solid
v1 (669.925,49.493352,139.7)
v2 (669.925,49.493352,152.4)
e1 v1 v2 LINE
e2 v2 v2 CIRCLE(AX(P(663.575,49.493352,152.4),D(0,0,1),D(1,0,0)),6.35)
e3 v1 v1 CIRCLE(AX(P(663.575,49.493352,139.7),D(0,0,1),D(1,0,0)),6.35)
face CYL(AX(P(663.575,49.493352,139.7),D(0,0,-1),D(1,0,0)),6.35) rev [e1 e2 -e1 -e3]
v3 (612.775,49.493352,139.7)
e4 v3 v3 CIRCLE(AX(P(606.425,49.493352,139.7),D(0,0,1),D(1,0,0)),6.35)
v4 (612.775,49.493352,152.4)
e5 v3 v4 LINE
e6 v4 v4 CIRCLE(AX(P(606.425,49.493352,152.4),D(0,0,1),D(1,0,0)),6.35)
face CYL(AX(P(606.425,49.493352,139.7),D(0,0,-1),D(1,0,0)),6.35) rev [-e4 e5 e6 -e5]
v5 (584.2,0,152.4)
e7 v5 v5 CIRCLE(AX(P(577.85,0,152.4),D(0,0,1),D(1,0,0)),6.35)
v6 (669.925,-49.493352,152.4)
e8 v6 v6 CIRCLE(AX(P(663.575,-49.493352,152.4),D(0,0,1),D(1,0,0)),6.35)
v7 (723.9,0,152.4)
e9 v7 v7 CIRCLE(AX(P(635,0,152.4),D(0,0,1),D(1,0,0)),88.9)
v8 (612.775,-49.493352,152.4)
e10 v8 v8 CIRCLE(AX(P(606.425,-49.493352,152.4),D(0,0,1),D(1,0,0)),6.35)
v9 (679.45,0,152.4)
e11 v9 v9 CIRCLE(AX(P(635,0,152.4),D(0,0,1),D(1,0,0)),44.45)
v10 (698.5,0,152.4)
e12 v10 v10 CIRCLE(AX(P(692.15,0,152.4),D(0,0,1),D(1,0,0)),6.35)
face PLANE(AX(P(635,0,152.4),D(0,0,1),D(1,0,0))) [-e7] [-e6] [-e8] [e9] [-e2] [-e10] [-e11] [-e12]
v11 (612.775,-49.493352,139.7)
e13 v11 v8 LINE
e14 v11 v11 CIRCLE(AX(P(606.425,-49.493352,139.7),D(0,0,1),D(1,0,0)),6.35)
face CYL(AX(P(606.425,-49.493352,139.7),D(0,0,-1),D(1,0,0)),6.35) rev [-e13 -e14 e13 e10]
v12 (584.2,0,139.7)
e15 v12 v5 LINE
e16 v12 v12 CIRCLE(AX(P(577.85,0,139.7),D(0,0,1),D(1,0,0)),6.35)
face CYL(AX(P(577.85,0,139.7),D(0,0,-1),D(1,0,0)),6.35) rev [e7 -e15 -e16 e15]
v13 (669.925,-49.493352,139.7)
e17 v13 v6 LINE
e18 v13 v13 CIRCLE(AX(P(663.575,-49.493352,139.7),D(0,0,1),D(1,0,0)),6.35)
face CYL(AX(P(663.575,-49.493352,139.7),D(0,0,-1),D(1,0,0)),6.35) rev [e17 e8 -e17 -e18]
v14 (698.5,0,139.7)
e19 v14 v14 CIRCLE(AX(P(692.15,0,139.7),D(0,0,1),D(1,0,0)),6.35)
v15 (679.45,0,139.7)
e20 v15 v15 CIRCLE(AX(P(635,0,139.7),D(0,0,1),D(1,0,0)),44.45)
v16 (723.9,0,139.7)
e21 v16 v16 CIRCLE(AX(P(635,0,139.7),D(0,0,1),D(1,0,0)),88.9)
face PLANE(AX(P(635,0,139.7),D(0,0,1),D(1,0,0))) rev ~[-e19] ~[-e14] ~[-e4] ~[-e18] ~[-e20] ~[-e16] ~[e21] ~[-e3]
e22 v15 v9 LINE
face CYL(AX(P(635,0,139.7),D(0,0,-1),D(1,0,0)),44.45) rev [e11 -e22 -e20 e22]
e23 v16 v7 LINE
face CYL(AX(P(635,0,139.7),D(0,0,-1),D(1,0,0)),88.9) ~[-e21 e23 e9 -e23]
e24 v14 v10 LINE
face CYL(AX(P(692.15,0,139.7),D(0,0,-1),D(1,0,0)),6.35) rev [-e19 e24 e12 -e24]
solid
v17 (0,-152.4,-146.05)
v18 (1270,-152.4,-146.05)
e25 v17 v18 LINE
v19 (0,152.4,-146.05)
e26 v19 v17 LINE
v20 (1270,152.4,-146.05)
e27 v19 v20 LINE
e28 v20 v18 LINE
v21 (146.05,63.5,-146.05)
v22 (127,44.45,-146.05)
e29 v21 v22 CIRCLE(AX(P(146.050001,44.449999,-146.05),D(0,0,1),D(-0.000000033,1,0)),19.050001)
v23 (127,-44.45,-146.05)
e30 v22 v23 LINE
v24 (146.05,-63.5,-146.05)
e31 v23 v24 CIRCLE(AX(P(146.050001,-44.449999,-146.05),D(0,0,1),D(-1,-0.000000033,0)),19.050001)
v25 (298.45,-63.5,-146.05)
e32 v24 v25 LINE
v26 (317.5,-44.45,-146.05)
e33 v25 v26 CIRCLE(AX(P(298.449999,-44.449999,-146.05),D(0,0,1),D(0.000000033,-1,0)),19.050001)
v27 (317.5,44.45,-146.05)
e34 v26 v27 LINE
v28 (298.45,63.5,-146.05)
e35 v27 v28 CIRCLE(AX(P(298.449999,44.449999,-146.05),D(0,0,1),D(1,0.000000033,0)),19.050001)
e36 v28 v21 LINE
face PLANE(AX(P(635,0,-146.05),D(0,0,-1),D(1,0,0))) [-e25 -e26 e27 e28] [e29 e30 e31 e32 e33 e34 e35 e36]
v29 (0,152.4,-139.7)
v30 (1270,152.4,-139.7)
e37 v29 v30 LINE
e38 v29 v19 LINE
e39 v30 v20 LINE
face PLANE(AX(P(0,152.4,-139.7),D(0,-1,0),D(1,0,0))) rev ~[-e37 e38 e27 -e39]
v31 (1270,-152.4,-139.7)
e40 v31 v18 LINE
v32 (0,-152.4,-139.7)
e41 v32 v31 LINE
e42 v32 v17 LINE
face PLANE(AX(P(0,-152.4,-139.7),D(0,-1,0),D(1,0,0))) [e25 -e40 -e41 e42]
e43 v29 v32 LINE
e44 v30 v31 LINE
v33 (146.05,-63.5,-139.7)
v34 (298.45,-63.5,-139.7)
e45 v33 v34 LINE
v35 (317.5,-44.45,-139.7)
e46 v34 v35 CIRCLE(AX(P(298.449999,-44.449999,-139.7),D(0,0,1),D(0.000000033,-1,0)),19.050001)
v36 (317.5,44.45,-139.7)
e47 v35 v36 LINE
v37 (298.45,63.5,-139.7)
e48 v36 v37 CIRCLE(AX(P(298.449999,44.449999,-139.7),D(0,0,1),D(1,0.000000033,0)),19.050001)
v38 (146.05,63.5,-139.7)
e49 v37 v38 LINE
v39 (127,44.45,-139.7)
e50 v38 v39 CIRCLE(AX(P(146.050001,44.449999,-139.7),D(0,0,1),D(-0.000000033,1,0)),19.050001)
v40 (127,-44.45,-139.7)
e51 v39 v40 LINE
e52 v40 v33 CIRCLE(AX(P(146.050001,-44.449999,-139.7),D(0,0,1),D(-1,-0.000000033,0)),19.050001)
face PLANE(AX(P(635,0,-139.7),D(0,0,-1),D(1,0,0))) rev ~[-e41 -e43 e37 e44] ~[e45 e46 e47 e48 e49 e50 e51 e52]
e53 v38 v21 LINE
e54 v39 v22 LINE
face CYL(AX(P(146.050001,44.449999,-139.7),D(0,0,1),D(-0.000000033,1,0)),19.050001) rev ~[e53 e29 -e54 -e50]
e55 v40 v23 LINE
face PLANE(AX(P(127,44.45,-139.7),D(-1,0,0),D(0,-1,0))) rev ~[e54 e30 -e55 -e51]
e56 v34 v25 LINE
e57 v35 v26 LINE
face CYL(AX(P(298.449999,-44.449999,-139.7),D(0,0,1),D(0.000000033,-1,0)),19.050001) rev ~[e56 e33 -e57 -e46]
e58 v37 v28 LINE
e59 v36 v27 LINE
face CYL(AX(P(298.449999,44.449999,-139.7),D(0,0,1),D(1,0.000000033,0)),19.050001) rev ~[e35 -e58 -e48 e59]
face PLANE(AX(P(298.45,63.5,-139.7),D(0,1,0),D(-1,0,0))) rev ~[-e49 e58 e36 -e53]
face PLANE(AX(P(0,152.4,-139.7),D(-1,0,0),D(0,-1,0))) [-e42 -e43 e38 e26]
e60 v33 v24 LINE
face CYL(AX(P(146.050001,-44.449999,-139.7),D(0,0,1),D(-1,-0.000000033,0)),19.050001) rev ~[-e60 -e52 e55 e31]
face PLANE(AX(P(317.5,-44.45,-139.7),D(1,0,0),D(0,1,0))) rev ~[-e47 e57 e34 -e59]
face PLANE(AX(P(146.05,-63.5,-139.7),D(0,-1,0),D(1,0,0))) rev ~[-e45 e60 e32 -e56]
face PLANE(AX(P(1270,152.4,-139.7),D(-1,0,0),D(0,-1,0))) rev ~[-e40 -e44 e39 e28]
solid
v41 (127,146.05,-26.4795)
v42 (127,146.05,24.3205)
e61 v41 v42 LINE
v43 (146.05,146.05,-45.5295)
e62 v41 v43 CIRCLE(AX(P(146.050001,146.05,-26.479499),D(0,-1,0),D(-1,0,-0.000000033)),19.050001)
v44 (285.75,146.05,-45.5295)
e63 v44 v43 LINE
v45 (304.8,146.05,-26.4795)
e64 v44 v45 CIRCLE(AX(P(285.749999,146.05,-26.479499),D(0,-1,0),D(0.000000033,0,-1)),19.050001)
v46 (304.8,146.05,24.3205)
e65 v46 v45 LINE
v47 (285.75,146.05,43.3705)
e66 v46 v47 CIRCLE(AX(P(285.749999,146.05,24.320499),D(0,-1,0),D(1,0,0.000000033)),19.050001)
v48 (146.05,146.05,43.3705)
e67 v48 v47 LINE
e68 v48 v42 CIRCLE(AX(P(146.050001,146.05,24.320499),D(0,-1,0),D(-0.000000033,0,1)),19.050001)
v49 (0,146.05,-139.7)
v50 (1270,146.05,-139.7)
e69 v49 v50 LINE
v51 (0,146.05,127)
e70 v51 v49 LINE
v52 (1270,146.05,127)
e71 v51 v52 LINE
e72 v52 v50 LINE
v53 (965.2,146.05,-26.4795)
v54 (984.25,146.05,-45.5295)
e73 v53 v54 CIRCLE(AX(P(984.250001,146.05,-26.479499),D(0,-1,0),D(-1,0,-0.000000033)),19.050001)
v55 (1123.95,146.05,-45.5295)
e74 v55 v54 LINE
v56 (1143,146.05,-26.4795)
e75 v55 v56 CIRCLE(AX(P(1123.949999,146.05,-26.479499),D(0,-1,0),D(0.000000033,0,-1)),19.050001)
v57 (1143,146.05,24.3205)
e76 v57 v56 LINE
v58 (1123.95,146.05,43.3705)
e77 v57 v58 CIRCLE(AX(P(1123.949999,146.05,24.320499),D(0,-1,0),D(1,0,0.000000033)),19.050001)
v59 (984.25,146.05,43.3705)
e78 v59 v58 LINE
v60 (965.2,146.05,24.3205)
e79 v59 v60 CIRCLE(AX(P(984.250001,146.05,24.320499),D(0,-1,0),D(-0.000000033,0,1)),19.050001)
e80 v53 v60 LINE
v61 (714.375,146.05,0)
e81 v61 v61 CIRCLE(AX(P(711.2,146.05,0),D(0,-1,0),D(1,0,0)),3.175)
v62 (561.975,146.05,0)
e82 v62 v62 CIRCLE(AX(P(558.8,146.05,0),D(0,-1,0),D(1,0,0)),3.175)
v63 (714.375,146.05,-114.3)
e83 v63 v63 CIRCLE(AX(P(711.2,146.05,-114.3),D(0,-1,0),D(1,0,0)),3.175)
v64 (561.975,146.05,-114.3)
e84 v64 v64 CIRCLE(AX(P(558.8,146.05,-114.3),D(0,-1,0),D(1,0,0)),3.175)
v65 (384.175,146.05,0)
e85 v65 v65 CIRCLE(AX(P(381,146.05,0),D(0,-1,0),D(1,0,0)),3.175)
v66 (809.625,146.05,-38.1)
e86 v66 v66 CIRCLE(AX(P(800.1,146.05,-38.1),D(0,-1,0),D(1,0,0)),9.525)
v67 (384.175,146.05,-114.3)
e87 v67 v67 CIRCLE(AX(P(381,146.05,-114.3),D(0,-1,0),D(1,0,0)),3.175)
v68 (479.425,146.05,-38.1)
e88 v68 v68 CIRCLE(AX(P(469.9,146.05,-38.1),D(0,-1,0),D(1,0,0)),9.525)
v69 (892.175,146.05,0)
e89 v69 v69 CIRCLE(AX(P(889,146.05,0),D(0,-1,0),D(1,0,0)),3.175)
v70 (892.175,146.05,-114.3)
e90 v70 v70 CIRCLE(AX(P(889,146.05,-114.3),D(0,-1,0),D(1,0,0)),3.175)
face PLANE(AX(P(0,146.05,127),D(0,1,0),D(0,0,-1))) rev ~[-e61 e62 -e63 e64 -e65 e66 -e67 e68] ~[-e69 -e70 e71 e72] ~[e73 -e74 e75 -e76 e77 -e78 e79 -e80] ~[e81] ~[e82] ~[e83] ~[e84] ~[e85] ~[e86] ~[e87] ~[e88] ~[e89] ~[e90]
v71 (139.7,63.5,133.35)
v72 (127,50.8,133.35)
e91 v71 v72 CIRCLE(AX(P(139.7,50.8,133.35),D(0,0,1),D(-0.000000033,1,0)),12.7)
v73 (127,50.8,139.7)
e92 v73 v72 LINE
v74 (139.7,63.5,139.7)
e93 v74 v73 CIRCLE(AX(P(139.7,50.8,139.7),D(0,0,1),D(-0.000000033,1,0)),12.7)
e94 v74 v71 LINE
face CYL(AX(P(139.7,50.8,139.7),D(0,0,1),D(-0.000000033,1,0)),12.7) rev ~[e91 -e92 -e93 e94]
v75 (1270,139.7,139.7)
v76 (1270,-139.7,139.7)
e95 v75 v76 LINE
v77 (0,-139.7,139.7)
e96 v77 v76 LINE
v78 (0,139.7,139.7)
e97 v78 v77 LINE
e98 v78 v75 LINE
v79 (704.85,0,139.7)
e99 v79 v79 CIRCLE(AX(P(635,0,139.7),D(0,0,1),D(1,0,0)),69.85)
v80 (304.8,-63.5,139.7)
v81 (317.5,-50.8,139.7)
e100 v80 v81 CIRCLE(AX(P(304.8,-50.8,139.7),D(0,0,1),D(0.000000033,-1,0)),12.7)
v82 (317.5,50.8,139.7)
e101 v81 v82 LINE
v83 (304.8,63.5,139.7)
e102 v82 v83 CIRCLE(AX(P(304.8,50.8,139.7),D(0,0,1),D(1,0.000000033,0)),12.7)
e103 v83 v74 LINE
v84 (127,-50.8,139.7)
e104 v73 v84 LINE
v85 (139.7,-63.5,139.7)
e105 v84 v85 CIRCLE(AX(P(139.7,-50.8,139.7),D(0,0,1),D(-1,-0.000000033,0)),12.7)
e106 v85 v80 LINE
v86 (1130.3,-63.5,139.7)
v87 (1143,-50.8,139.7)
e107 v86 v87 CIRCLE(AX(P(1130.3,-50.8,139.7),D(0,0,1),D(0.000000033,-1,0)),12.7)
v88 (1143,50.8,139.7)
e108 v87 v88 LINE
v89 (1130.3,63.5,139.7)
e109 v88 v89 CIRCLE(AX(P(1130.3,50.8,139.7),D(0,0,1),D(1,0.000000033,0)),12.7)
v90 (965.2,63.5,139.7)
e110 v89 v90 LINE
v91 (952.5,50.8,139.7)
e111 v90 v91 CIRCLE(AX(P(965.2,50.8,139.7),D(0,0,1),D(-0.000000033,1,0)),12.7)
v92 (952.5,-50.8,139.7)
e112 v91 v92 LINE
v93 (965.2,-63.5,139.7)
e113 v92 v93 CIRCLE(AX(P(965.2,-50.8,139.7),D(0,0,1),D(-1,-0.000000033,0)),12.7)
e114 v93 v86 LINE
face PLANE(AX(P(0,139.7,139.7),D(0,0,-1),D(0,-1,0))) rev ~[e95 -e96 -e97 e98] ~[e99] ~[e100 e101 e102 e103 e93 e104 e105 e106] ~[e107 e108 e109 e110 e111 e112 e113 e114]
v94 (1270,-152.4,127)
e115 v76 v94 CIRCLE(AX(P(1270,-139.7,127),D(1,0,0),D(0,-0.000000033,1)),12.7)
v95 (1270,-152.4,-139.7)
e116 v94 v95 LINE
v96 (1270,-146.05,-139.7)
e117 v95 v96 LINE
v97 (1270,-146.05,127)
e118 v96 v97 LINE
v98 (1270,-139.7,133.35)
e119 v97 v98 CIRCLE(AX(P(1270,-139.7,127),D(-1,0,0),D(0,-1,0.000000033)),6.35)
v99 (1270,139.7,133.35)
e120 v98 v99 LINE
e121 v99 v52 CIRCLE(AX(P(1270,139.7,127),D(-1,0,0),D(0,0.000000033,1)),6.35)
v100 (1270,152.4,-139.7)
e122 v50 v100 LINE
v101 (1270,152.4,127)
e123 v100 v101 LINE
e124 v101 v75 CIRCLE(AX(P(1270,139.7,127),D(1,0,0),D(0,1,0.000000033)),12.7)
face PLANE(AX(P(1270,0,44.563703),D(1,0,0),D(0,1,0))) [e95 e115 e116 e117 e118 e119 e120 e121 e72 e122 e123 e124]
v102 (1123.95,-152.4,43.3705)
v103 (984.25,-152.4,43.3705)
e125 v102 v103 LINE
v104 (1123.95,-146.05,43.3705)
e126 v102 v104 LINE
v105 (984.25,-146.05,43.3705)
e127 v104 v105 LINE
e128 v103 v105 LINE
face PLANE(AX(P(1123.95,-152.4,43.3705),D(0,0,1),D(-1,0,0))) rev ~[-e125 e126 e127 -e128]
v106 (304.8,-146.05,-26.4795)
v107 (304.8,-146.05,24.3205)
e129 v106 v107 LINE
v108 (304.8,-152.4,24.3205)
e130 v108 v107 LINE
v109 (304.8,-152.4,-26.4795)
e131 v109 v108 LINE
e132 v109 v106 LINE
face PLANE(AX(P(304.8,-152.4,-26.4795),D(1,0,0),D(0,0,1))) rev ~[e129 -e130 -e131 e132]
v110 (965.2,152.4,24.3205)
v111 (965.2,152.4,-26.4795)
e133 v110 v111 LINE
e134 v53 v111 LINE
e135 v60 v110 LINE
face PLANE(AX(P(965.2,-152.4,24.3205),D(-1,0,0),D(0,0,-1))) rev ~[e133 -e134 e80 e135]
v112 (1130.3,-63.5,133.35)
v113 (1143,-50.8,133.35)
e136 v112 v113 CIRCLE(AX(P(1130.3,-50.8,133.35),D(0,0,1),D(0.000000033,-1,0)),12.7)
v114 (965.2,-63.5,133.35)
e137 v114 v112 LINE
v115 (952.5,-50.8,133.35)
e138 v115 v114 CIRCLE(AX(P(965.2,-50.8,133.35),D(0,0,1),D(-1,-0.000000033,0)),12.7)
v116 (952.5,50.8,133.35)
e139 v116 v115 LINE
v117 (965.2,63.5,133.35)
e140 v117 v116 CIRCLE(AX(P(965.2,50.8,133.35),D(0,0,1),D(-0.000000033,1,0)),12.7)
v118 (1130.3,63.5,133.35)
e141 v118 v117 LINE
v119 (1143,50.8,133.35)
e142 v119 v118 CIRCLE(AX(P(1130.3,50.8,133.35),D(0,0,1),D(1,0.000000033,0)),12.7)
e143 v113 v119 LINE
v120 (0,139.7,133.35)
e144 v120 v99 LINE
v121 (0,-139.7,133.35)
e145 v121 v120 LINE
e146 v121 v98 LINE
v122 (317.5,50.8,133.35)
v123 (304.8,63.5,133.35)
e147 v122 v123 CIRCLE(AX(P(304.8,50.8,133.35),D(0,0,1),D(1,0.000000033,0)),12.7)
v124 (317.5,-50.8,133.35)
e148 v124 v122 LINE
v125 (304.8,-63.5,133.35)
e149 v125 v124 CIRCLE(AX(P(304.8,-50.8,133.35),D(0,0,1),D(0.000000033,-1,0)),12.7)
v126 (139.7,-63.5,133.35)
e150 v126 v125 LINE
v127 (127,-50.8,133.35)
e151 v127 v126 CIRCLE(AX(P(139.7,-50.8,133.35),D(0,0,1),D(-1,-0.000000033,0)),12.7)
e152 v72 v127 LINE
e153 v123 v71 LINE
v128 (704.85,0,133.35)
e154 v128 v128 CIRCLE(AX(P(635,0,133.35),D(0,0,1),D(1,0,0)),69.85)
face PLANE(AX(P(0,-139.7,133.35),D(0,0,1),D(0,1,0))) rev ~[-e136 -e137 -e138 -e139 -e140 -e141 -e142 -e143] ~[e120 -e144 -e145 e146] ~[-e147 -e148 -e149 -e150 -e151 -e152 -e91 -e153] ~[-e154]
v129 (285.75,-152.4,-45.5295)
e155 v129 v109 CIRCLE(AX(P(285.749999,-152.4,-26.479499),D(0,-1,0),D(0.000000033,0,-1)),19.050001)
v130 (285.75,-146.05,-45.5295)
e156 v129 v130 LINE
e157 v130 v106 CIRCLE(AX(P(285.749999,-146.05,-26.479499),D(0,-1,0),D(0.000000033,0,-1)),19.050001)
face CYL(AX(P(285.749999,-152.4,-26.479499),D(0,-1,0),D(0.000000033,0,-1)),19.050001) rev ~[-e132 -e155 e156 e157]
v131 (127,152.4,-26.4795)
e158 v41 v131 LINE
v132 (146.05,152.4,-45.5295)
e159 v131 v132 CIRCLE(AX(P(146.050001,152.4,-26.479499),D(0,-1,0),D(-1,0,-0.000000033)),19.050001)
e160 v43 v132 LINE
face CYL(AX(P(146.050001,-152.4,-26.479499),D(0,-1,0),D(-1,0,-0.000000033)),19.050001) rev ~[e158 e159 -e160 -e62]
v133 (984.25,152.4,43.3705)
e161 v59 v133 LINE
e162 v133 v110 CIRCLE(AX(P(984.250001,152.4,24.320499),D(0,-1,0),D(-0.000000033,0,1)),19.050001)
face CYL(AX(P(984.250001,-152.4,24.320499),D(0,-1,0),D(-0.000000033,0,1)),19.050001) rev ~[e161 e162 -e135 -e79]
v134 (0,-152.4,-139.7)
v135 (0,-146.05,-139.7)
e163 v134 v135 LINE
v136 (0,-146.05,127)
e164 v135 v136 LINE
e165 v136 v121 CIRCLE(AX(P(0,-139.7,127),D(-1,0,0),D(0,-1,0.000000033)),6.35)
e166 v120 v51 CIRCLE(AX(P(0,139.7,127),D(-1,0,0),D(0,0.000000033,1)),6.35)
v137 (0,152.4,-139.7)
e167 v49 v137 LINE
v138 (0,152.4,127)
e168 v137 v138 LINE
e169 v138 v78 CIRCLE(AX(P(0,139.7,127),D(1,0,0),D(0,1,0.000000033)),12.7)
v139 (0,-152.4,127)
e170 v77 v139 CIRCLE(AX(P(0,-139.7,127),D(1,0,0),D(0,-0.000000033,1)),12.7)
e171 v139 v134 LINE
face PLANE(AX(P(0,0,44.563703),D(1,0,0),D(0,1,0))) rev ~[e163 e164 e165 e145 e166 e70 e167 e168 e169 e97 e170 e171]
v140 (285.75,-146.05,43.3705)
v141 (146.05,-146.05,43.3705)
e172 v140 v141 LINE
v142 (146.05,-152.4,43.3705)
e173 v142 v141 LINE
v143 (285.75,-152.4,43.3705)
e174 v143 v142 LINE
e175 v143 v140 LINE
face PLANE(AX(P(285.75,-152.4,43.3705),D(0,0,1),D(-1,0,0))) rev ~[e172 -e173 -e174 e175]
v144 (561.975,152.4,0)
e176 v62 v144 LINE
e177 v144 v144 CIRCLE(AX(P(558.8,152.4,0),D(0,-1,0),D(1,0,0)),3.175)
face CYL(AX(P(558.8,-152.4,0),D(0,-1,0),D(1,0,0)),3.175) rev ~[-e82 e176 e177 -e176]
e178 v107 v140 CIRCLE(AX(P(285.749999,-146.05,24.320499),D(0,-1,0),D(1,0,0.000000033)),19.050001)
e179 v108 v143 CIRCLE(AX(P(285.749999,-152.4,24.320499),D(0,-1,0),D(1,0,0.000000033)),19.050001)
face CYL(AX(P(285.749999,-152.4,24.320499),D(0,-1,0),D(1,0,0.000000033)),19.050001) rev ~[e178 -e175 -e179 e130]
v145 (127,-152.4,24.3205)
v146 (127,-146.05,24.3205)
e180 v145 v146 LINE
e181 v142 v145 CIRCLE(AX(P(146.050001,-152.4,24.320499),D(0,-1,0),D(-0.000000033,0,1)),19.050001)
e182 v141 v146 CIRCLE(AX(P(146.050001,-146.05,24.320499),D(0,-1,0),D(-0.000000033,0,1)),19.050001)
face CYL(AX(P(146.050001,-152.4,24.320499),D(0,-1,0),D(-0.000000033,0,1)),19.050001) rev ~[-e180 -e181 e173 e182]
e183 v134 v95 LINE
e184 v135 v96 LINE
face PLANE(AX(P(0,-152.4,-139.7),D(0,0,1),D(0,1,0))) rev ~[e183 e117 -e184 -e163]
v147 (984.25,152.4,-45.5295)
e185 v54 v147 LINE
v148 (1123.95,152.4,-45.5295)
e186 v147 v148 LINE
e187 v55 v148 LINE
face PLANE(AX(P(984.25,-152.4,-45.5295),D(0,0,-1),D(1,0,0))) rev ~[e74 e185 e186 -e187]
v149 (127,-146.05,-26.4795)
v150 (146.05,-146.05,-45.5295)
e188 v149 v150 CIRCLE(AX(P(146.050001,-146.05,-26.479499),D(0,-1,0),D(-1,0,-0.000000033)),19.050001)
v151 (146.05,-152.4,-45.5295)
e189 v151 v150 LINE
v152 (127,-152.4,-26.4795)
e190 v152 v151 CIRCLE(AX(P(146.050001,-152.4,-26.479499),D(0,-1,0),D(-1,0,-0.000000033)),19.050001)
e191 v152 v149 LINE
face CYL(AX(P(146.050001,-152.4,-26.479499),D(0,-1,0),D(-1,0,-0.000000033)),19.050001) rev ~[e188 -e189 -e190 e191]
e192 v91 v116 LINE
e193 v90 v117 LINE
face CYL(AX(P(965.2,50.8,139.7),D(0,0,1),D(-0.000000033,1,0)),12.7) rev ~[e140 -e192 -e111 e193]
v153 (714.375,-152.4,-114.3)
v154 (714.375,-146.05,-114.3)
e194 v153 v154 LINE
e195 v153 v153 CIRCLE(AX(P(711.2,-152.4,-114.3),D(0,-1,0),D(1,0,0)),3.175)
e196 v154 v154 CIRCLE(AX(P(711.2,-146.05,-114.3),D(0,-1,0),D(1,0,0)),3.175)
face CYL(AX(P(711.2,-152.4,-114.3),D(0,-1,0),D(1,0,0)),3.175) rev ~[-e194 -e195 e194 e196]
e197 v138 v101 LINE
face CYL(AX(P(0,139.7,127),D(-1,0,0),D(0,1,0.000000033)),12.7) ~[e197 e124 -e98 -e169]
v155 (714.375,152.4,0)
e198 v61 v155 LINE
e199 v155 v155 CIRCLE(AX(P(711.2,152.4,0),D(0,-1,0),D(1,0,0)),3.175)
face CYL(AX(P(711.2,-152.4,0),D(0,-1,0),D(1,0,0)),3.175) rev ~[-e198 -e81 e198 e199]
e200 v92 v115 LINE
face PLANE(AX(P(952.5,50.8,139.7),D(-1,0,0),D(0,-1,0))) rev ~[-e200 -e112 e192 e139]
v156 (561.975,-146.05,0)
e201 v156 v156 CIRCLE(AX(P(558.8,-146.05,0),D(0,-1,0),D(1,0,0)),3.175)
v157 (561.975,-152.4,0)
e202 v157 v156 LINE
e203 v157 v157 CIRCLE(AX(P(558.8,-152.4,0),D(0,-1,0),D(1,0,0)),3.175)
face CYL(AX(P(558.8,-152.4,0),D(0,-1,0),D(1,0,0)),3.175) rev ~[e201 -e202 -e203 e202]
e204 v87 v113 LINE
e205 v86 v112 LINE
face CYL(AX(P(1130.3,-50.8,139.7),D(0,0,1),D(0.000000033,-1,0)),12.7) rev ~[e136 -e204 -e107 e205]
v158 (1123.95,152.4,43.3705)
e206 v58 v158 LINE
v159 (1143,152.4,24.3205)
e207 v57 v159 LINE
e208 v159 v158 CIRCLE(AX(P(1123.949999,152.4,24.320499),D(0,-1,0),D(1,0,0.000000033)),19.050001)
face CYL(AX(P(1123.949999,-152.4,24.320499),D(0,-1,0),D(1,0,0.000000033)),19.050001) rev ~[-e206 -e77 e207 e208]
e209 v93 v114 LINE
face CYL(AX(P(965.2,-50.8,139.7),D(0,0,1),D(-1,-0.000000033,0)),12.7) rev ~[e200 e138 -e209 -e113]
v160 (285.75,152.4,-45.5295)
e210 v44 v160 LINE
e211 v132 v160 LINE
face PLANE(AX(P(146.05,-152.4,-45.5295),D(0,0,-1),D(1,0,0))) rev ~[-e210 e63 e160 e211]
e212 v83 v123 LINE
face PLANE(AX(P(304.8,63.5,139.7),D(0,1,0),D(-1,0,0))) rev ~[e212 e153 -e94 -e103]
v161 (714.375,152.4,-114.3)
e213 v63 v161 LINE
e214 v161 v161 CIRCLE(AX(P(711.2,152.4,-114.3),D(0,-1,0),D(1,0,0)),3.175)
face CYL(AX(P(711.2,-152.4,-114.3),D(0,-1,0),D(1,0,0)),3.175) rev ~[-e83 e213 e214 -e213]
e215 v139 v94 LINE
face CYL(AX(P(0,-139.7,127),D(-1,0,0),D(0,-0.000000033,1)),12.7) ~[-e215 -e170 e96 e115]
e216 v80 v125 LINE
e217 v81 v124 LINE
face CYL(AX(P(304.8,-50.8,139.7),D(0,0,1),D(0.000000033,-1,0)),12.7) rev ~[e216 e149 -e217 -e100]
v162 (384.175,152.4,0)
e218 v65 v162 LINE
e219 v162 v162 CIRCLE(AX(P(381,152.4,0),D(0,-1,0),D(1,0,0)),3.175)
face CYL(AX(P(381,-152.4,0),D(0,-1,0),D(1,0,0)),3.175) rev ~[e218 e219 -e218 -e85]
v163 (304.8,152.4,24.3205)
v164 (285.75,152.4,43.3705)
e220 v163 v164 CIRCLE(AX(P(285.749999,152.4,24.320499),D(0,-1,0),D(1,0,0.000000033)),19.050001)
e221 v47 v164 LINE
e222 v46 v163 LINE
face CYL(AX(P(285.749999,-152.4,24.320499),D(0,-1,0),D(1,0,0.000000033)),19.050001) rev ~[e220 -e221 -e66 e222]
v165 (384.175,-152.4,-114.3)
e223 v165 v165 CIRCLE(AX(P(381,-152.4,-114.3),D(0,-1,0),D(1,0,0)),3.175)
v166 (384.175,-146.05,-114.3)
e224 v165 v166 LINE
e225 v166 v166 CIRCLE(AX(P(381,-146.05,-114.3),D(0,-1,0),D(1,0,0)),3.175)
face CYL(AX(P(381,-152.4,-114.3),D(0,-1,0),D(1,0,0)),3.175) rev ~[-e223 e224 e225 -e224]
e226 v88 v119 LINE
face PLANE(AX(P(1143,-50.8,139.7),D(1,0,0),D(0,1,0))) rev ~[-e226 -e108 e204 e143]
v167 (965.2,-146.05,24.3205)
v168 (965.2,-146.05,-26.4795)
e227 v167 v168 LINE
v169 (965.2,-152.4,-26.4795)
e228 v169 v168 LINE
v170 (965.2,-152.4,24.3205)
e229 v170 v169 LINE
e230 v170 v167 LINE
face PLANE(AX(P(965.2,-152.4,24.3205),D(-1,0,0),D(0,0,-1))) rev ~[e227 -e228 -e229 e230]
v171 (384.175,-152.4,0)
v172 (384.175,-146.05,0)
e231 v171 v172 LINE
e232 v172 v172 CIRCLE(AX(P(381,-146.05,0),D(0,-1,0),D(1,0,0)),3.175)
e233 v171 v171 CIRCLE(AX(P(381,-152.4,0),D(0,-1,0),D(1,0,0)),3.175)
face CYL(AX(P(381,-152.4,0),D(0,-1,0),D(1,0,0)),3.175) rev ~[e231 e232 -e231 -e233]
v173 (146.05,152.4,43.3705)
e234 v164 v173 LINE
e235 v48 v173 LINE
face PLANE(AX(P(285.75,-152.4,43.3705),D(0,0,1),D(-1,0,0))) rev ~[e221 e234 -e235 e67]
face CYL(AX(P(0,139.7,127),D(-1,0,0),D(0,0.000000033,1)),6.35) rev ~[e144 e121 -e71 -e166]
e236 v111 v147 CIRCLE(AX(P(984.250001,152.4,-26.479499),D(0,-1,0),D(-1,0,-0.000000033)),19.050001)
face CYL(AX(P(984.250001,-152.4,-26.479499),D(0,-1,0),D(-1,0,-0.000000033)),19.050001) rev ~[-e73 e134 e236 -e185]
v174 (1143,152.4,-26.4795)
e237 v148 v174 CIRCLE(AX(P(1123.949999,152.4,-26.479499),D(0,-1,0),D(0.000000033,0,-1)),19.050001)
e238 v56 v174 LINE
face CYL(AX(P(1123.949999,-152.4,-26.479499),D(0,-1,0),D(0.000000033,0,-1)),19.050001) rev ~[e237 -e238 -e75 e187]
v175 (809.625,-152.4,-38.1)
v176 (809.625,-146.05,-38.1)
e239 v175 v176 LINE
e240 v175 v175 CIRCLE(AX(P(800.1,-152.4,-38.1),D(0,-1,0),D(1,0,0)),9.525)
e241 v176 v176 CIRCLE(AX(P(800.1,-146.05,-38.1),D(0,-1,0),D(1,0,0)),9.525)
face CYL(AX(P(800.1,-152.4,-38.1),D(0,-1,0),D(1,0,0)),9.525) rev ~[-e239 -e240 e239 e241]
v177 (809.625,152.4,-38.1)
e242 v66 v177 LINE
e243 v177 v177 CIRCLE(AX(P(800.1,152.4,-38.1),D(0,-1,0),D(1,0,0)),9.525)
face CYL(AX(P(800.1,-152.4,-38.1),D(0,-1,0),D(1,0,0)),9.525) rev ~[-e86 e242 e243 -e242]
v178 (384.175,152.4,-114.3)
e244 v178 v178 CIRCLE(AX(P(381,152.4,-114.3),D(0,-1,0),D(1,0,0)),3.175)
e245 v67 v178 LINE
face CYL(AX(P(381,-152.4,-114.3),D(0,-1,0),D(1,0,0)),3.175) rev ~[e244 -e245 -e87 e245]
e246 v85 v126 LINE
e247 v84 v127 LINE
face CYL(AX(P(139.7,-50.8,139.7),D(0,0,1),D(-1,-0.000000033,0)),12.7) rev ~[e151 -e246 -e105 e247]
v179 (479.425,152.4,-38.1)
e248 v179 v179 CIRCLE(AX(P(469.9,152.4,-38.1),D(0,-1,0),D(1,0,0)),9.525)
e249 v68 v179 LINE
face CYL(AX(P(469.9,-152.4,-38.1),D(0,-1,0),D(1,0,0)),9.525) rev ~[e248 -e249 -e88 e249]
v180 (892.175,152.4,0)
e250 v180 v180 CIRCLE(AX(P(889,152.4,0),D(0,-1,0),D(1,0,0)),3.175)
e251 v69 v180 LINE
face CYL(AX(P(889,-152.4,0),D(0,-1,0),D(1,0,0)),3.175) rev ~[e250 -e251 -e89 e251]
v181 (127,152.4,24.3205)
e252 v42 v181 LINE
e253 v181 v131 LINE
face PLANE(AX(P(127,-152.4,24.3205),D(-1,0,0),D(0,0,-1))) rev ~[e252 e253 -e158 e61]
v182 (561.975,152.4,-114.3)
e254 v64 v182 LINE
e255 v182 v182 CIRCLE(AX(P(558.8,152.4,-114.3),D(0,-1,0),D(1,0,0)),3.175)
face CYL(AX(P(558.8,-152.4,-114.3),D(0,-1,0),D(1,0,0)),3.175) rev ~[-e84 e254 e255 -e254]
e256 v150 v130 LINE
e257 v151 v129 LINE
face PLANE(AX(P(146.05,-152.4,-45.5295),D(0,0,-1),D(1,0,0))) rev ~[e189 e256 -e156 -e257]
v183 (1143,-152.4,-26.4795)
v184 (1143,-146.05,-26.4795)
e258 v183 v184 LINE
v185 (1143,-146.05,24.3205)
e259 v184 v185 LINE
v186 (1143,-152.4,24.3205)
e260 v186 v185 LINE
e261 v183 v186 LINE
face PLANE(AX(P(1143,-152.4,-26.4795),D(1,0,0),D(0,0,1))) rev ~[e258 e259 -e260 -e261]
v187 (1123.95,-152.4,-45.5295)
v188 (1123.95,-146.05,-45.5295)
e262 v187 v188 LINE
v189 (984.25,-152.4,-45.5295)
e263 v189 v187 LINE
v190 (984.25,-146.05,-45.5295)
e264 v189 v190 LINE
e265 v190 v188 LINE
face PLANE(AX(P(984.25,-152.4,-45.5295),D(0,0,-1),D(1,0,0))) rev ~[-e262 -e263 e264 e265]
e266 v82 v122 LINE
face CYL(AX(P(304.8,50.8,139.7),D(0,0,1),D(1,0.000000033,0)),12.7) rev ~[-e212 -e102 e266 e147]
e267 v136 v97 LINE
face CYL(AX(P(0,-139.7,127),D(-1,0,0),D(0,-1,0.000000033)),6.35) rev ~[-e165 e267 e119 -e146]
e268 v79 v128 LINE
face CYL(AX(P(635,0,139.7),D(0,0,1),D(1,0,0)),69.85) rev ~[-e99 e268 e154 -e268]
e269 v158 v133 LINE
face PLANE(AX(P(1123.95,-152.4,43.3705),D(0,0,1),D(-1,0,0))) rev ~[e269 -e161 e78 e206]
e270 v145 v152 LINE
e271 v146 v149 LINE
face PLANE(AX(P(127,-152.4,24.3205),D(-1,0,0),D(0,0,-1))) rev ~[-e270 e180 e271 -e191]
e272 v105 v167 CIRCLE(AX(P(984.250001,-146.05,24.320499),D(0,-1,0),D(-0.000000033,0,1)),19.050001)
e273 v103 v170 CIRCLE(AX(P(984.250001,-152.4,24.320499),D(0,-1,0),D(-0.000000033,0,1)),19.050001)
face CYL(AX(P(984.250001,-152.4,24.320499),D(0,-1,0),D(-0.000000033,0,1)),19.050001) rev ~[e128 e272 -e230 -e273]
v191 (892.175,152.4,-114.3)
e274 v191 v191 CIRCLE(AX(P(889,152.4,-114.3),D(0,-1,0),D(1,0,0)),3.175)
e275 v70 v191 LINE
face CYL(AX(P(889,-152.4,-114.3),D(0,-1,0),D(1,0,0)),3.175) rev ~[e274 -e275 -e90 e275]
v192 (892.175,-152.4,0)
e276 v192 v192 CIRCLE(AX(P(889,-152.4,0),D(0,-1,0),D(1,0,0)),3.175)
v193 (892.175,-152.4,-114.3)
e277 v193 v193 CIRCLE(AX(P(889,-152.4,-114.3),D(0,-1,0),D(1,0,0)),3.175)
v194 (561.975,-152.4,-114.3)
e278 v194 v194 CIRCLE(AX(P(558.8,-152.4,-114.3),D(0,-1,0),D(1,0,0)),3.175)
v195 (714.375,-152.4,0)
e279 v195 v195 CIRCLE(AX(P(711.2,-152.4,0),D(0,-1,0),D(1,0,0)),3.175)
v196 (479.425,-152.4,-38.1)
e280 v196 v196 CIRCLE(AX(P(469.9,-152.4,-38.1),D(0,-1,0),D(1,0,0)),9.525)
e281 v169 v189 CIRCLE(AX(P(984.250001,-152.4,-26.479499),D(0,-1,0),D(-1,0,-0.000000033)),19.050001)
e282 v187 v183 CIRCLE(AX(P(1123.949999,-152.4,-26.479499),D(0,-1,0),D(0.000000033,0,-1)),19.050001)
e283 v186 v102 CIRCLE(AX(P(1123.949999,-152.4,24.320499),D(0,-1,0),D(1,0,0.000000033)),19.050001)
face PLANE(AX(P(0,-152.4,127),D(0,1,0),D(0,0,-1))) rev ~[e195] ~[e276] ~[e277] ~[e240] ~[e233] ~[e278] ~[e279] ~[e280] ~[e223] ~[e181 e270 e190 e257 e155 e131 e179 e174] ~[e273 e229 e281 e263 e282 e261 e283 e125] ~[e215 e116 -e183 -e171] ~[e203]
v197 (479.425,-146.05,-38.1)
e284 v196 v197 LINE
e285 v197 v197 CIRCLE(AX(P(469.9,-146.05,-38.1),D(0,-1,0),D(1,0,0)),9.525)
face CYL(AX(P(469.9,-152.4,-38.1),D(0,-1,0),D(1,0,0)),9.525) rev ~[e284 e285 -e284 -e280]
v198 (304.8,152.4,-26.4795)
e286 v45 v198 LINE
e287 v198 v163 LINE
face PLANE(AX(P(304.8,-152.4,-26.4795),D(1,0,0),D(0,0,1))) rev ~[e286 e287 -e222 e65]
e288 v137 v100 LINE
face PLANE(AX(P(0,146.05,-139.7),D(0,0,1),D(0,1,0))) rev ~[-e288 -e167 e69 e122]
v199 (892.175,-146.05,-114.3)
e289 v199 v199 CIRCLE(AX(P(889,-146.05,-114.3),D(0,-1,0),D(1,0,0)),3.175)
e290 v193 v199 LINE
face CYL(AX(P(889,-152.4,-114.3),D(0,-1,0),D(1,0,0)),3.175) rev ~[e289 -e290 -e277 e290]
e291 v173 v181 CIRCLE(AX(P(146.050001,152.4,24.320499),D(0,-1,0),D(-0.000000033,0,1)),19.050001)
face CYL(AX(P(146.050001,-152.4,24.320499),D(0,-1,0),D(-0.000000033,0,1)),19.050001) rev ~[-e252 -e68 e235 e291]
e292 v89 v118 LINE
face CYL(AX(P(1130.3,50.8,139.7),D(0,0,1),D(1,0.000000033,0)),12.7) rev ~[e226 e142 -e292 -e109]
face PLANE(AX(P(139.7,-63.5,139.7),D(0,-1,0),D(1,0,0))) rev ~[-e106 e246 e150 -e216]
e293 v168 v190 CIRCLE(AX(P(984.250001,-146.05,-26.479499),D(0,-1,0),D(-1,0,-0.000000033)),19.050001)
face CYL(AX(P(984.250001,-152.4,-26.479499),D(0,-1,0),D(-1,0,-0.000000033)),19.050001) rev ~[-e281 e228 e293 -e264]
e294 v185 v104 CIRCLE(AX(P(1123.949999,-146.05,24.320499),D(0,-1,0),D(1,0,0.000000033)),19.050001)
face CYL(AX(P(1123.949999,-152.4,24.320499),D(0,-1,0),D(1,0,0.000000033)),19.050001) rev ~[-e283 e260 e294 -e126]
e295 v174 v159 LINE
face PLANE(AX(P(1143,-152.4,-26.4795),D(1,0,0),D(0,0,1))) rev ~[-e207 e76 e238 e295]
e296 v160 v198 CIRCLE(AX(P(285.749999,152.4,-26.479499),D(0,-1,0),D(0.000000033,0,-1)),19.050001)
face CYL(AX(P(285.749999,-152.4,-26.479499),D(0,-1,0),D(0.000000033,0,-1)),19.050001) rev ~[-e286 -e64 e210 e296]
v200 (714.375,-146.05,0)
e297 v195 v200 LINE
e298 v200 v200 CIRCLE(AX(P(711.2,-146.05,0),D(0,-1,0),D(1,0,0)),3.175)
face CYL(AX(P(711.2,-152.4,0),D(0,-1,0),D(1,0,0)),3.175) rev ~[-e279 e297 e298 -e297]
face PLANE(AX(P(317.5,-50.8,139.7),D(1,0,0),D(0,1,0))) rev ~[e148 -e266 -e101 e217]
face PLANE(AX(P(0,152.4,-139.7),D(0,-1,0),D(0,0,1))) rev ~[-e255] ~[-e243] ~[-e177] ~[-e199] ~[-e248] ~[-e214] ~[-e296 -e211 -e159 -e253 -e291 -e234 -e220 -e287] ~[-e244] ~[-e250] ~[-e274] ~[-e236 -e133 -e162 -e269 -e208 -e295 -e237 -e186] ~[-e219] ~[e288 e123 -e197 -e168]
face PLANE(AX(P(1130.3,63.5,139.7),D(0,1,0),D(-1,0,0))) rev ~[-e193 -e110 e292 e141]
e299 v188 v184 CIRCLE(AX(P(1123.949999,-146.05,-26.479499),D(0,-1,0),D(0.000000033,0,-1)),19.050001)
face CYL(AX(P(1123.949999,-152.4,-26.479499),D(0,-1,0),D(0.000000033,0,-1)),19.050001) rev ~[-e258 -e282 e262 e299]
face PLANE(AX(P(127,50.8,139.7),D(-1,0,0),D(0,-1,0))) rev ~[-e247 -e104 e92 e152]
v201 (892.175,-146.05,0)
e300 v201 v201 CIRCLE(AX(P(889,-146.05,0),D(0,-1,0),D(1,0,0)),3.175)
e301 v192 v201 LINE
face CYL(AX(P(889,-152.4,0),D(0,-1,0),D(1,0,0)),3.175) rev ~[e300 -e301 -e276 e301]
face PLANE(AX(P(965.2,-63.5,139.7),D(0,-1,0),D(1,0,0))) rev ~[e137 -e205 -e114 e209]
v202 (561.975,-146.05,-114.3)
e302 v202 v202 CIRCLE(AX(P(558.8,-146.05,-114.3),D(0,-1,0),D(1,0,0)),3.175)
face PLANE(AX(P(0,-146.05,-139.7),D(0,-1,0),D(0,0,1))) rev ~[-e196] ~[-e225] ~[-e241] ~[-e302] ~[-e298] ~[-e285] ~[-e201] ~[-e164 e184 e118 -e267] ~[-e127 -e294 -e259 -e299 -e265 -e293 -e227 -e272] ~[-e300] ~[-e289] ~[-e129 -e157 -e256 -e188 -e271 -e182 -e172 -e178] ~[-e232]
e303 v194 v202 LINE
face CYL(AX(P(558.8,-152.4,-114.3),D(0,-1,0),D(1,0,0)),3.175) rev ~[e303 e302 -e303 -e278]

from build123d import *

# Parameters (mm, degrees)
F1_DEPTH  = 1270
F2_R      = 69.85
F3_DEPTH  = 279.401
F5_DEPTH  = 304.801
F6_R      = 9.525
F6_R_2    = 3.175
F7_DEPTH  = 304.801
F8_R      = 88.9
F8_R_2    = 6.35
F8_R_3    = 44.45
F9_DEPTH  = 12.7
F10_W     = 1270
F10_H     = 304.8
F11_DEPTH = 6.35


with BuildPart() as f1:
    # F0 (on Right) → F1 (new body)
    with BuildSketch(Plane.YZ):
        with BuildLine():
            Line((139.7, 139.7), (-139.7, 139.7))
            ThreePointArc((-139.7, 139.7), (-148.680256, 135.980256), (-152.4, 127))
            Line((-152.4, 127), (-152.4, -139.7))
            Line((-152.4, -139.7), (-146.05, -139.7))
            Line((-146.05, -139.7), (-146.05, 127))
            ThreePointArc((-146.05, 127), (-144.190128, 131.490128), (-139.7, 133.35))
            Line((-139.7, 133.35), (139.7, 133.35))
            ThreePointArc((139.7, 133.35), (144.190128, 131.490128), (146.05, 127))
            Line((146.05, 127), (146.05, -139.7))
            Line((146.05, -139.7), (152.4, -139.7))
            Line((152.4, -139.7), (152.4, 127))
            ThreePointArc((152.4, 127), (148.680256, 135.980256), (139.7, 139.7))
        make_face()
    extrude(amount=F1_DEPTH)

    # F2 (on face) → F3 (cut, through all)
    with BuildSketch(Plane.XY.offset(139.7)):
        with BuildLine():
            Line((304.8, 63.5), (139.7, 63.5))
            ThreePointArc((139.7, 63.5), (130.719744, 59.780256), (127, 50.8))
            Line((127, 50.8), (127, -50.8))
            ThreePointArc((127, -50.8), (130.719744, -59.780256), (139.7, -63.5))
            Line((139.7, -63.5), (304.8, -63.5))
            ThreePointArc((304.8, -63.5), (313.780256, -59.780256), (317.5, -50.8))
            Line((317.5, -50.8), (317.5, 50.8))
            ThreePointArc((317.5, 50.8), (313.780256, 59.780256), (304.8, 63.5))
        make_face()
        with BuildLine():
            Line((965.2, -63.5), (1130.3, -63.5))
            ThreePointArc((1130.3, -63.5), (1139.280256, -59.780256), (1143, -50.8))
            Line((1143, -50.8), (1143, 50.8))
            ThreePointArc((1143, 50.8), (1139.280256, 59.780256), (1130.3, 63.5))
            Line((1130.3, 63.5), (965.2, 63.5))
            ThreePointArc((965.2, 63.5), (956.219744, 59.780256), (952.5, 50.8))
            Line((952.5, 50.8), (952.5, -50.8))
            ThreePointArc((952.5, -50.8), (956.219744, -59.780256), (965.2, -63.5))
        make_face()
        with Locations((635, 0)):
            Circle(F2_R)
    extrude(amount=-F3_DEPTH, mode=Mode.SUBTRACT)

    # F4 (on face) → F5 (cut, through all)
    with BuildSketch(Plane.XZ.offset(152.4)):
        with BuildLine():
            Line((285.75, 43.3705), (146.05, 43.3705))
            ThreePointArc((146.05, 43.3705), (132.579616, 37.790884), (127, 24.3205))
            Line((127, 24.3205), (127, -26.4795))
            ThreePointArc((127, -26.4795), (132.579616, -39.949884), (146.05, -45.5295))
            Line((146.05, -45.5295), (285.75, -45.5295))
            ThreePointArc((285.75, -45.5295), (299.220384, -39.949884), (304.8, -26.4795))
            Line((304.8, -26.4795), (304.8, 24.3205))
            ThreePointArc((304.8, 24.3205), (299.220384, 37.790884), (285.75, 43.3705))
        make_face()
        with BuildLine():
            ThreePointArc((1143, 24.3205), (1137.420384, 37.790884), (1123.95, 43.3705))
            Line((1123.95, 43.3705), (984.25, 43.3705))
            ThreePointArc((984.25, 43.3705), (970.779616, 37.790884), (965.2, 24.3205))
            Line((965.2, 24.3205), (965.2, -26.4795))
            ThreePointArc((965.2, -26.4795), (970.779616, -39.949884), (984.25, -45.5295))
            Line((984.25, -45.5295), (1123.95, -45.5295))
            ThreePointArc((1123.95, -45.5295), (1137.420384, -39.949884), (1143, -26.4795))
            Line((1143, -26.4795), (1143, 24.3205))
        make_face()
    extrude(amount=-F5_DEPTH, mode=Mode.SUBTRACT)

    # F6 (on face) → F7 (cut, through all)
    with BuildSketch(Plane.XZ.offset(152.4)):
        with Locations((469.9, -38.1)):
            Circle(F6_R)
        with Locations((558.8, 0)):
            Circle(F6_R_2)
        with Locations((800.1, -38.1)):
            Circle(F6_R)
        with Locations((711.2, 0)):
            Circle(F6_R_2)
        with Locations((558.8, -114.3)):
            Circle(F6_R_2)
        with Locations((711.2, -114.3)):
            Circle(F6_R_2)
        with Locations((381, -114.3)):
            Circle(F6_R_2)
        with Locations((381, 0)):
            Circle(F6_R_2)
        with Locations((889, 0)):
            Circle(F6_R_2)
        with Locations((889, -114.3)):
            Circle(F6_R_2)
    extrude(amount=-F7_DEPTH, mode=Mode.SUBTRACT)


with BuildPart() as f9:
    # F8 (on face) → F9 (new body)
    with BuildSketch(Plane.XY.offset(139.7)):
        with Locations((635, 0)):
            Circle(F8_R)
        with Locations((606.425, -49.493352)):
            Circle(F8_R_2, mode=Mode.SUBTRACT)
        with Locations((663.575, -49.493352)):
            Circle(F8_R_2, mode=Mode.SUBTRACT)
        with Locations((577.85, 0)):
            Circle(F8_R_2, mode=Mode.SUBTRACT)
        with Locations((606.425, 49.493352)):
            Circle(F8_R_2, mode=Mode.SUBTRACT)
        with Locations((635, 0)):
            Circle(F8_R_3, mode=Mode.SUBTRACT)
        with Locations((692.15, 0)):
            Circle(F8_R_2, mode=Mode.SUBTRACT)
        with Locations((663.575, 49.493352)):
            Circle(F8_R_2, mode=Mode.SUBTRACT)
    extrude(amount=F9_DEPTH)


with BuildPart() as f11:
    # F10 (on face) → F11 (new body)
    with BuildSketch(Plane(origin=(0, 0, -139.7), x_dir=(1, 0, 0), z_dir=(0, 0, -1))):
        with Locations((635, 0)):
            Rectangle(F10_W, F10_H)
        with BuildLine():
            ThreePointArc((127, 44.45), (132.579616, 57.920384), (146.05, 63.5))
            Line((146.05, 63.5), (298.45, 63.5))
            ThreePointArc((298.45, 63.5), (311.920384, 57.920384), (317.5, 44.45))
            Line((317.5, 44.45), (317.5, -44.45))
            ThreePointArc((317.5, -44.45), (311.920384, -57.920384), (298.45, -63.5))
            Line((298.45, -63.5), (146.05, -63.5))
            ThreePointArc((146.05, -63.5), (132.579616, -57.920384), (127, -44.45))
            Line((127, -44.45), (127, 44.45))
        make_face(mode=Mode.SUBTRACT)
    extrude(amount=F11_DEPTH)


solid = Compound([f1.part, f9.part, f11.part])
